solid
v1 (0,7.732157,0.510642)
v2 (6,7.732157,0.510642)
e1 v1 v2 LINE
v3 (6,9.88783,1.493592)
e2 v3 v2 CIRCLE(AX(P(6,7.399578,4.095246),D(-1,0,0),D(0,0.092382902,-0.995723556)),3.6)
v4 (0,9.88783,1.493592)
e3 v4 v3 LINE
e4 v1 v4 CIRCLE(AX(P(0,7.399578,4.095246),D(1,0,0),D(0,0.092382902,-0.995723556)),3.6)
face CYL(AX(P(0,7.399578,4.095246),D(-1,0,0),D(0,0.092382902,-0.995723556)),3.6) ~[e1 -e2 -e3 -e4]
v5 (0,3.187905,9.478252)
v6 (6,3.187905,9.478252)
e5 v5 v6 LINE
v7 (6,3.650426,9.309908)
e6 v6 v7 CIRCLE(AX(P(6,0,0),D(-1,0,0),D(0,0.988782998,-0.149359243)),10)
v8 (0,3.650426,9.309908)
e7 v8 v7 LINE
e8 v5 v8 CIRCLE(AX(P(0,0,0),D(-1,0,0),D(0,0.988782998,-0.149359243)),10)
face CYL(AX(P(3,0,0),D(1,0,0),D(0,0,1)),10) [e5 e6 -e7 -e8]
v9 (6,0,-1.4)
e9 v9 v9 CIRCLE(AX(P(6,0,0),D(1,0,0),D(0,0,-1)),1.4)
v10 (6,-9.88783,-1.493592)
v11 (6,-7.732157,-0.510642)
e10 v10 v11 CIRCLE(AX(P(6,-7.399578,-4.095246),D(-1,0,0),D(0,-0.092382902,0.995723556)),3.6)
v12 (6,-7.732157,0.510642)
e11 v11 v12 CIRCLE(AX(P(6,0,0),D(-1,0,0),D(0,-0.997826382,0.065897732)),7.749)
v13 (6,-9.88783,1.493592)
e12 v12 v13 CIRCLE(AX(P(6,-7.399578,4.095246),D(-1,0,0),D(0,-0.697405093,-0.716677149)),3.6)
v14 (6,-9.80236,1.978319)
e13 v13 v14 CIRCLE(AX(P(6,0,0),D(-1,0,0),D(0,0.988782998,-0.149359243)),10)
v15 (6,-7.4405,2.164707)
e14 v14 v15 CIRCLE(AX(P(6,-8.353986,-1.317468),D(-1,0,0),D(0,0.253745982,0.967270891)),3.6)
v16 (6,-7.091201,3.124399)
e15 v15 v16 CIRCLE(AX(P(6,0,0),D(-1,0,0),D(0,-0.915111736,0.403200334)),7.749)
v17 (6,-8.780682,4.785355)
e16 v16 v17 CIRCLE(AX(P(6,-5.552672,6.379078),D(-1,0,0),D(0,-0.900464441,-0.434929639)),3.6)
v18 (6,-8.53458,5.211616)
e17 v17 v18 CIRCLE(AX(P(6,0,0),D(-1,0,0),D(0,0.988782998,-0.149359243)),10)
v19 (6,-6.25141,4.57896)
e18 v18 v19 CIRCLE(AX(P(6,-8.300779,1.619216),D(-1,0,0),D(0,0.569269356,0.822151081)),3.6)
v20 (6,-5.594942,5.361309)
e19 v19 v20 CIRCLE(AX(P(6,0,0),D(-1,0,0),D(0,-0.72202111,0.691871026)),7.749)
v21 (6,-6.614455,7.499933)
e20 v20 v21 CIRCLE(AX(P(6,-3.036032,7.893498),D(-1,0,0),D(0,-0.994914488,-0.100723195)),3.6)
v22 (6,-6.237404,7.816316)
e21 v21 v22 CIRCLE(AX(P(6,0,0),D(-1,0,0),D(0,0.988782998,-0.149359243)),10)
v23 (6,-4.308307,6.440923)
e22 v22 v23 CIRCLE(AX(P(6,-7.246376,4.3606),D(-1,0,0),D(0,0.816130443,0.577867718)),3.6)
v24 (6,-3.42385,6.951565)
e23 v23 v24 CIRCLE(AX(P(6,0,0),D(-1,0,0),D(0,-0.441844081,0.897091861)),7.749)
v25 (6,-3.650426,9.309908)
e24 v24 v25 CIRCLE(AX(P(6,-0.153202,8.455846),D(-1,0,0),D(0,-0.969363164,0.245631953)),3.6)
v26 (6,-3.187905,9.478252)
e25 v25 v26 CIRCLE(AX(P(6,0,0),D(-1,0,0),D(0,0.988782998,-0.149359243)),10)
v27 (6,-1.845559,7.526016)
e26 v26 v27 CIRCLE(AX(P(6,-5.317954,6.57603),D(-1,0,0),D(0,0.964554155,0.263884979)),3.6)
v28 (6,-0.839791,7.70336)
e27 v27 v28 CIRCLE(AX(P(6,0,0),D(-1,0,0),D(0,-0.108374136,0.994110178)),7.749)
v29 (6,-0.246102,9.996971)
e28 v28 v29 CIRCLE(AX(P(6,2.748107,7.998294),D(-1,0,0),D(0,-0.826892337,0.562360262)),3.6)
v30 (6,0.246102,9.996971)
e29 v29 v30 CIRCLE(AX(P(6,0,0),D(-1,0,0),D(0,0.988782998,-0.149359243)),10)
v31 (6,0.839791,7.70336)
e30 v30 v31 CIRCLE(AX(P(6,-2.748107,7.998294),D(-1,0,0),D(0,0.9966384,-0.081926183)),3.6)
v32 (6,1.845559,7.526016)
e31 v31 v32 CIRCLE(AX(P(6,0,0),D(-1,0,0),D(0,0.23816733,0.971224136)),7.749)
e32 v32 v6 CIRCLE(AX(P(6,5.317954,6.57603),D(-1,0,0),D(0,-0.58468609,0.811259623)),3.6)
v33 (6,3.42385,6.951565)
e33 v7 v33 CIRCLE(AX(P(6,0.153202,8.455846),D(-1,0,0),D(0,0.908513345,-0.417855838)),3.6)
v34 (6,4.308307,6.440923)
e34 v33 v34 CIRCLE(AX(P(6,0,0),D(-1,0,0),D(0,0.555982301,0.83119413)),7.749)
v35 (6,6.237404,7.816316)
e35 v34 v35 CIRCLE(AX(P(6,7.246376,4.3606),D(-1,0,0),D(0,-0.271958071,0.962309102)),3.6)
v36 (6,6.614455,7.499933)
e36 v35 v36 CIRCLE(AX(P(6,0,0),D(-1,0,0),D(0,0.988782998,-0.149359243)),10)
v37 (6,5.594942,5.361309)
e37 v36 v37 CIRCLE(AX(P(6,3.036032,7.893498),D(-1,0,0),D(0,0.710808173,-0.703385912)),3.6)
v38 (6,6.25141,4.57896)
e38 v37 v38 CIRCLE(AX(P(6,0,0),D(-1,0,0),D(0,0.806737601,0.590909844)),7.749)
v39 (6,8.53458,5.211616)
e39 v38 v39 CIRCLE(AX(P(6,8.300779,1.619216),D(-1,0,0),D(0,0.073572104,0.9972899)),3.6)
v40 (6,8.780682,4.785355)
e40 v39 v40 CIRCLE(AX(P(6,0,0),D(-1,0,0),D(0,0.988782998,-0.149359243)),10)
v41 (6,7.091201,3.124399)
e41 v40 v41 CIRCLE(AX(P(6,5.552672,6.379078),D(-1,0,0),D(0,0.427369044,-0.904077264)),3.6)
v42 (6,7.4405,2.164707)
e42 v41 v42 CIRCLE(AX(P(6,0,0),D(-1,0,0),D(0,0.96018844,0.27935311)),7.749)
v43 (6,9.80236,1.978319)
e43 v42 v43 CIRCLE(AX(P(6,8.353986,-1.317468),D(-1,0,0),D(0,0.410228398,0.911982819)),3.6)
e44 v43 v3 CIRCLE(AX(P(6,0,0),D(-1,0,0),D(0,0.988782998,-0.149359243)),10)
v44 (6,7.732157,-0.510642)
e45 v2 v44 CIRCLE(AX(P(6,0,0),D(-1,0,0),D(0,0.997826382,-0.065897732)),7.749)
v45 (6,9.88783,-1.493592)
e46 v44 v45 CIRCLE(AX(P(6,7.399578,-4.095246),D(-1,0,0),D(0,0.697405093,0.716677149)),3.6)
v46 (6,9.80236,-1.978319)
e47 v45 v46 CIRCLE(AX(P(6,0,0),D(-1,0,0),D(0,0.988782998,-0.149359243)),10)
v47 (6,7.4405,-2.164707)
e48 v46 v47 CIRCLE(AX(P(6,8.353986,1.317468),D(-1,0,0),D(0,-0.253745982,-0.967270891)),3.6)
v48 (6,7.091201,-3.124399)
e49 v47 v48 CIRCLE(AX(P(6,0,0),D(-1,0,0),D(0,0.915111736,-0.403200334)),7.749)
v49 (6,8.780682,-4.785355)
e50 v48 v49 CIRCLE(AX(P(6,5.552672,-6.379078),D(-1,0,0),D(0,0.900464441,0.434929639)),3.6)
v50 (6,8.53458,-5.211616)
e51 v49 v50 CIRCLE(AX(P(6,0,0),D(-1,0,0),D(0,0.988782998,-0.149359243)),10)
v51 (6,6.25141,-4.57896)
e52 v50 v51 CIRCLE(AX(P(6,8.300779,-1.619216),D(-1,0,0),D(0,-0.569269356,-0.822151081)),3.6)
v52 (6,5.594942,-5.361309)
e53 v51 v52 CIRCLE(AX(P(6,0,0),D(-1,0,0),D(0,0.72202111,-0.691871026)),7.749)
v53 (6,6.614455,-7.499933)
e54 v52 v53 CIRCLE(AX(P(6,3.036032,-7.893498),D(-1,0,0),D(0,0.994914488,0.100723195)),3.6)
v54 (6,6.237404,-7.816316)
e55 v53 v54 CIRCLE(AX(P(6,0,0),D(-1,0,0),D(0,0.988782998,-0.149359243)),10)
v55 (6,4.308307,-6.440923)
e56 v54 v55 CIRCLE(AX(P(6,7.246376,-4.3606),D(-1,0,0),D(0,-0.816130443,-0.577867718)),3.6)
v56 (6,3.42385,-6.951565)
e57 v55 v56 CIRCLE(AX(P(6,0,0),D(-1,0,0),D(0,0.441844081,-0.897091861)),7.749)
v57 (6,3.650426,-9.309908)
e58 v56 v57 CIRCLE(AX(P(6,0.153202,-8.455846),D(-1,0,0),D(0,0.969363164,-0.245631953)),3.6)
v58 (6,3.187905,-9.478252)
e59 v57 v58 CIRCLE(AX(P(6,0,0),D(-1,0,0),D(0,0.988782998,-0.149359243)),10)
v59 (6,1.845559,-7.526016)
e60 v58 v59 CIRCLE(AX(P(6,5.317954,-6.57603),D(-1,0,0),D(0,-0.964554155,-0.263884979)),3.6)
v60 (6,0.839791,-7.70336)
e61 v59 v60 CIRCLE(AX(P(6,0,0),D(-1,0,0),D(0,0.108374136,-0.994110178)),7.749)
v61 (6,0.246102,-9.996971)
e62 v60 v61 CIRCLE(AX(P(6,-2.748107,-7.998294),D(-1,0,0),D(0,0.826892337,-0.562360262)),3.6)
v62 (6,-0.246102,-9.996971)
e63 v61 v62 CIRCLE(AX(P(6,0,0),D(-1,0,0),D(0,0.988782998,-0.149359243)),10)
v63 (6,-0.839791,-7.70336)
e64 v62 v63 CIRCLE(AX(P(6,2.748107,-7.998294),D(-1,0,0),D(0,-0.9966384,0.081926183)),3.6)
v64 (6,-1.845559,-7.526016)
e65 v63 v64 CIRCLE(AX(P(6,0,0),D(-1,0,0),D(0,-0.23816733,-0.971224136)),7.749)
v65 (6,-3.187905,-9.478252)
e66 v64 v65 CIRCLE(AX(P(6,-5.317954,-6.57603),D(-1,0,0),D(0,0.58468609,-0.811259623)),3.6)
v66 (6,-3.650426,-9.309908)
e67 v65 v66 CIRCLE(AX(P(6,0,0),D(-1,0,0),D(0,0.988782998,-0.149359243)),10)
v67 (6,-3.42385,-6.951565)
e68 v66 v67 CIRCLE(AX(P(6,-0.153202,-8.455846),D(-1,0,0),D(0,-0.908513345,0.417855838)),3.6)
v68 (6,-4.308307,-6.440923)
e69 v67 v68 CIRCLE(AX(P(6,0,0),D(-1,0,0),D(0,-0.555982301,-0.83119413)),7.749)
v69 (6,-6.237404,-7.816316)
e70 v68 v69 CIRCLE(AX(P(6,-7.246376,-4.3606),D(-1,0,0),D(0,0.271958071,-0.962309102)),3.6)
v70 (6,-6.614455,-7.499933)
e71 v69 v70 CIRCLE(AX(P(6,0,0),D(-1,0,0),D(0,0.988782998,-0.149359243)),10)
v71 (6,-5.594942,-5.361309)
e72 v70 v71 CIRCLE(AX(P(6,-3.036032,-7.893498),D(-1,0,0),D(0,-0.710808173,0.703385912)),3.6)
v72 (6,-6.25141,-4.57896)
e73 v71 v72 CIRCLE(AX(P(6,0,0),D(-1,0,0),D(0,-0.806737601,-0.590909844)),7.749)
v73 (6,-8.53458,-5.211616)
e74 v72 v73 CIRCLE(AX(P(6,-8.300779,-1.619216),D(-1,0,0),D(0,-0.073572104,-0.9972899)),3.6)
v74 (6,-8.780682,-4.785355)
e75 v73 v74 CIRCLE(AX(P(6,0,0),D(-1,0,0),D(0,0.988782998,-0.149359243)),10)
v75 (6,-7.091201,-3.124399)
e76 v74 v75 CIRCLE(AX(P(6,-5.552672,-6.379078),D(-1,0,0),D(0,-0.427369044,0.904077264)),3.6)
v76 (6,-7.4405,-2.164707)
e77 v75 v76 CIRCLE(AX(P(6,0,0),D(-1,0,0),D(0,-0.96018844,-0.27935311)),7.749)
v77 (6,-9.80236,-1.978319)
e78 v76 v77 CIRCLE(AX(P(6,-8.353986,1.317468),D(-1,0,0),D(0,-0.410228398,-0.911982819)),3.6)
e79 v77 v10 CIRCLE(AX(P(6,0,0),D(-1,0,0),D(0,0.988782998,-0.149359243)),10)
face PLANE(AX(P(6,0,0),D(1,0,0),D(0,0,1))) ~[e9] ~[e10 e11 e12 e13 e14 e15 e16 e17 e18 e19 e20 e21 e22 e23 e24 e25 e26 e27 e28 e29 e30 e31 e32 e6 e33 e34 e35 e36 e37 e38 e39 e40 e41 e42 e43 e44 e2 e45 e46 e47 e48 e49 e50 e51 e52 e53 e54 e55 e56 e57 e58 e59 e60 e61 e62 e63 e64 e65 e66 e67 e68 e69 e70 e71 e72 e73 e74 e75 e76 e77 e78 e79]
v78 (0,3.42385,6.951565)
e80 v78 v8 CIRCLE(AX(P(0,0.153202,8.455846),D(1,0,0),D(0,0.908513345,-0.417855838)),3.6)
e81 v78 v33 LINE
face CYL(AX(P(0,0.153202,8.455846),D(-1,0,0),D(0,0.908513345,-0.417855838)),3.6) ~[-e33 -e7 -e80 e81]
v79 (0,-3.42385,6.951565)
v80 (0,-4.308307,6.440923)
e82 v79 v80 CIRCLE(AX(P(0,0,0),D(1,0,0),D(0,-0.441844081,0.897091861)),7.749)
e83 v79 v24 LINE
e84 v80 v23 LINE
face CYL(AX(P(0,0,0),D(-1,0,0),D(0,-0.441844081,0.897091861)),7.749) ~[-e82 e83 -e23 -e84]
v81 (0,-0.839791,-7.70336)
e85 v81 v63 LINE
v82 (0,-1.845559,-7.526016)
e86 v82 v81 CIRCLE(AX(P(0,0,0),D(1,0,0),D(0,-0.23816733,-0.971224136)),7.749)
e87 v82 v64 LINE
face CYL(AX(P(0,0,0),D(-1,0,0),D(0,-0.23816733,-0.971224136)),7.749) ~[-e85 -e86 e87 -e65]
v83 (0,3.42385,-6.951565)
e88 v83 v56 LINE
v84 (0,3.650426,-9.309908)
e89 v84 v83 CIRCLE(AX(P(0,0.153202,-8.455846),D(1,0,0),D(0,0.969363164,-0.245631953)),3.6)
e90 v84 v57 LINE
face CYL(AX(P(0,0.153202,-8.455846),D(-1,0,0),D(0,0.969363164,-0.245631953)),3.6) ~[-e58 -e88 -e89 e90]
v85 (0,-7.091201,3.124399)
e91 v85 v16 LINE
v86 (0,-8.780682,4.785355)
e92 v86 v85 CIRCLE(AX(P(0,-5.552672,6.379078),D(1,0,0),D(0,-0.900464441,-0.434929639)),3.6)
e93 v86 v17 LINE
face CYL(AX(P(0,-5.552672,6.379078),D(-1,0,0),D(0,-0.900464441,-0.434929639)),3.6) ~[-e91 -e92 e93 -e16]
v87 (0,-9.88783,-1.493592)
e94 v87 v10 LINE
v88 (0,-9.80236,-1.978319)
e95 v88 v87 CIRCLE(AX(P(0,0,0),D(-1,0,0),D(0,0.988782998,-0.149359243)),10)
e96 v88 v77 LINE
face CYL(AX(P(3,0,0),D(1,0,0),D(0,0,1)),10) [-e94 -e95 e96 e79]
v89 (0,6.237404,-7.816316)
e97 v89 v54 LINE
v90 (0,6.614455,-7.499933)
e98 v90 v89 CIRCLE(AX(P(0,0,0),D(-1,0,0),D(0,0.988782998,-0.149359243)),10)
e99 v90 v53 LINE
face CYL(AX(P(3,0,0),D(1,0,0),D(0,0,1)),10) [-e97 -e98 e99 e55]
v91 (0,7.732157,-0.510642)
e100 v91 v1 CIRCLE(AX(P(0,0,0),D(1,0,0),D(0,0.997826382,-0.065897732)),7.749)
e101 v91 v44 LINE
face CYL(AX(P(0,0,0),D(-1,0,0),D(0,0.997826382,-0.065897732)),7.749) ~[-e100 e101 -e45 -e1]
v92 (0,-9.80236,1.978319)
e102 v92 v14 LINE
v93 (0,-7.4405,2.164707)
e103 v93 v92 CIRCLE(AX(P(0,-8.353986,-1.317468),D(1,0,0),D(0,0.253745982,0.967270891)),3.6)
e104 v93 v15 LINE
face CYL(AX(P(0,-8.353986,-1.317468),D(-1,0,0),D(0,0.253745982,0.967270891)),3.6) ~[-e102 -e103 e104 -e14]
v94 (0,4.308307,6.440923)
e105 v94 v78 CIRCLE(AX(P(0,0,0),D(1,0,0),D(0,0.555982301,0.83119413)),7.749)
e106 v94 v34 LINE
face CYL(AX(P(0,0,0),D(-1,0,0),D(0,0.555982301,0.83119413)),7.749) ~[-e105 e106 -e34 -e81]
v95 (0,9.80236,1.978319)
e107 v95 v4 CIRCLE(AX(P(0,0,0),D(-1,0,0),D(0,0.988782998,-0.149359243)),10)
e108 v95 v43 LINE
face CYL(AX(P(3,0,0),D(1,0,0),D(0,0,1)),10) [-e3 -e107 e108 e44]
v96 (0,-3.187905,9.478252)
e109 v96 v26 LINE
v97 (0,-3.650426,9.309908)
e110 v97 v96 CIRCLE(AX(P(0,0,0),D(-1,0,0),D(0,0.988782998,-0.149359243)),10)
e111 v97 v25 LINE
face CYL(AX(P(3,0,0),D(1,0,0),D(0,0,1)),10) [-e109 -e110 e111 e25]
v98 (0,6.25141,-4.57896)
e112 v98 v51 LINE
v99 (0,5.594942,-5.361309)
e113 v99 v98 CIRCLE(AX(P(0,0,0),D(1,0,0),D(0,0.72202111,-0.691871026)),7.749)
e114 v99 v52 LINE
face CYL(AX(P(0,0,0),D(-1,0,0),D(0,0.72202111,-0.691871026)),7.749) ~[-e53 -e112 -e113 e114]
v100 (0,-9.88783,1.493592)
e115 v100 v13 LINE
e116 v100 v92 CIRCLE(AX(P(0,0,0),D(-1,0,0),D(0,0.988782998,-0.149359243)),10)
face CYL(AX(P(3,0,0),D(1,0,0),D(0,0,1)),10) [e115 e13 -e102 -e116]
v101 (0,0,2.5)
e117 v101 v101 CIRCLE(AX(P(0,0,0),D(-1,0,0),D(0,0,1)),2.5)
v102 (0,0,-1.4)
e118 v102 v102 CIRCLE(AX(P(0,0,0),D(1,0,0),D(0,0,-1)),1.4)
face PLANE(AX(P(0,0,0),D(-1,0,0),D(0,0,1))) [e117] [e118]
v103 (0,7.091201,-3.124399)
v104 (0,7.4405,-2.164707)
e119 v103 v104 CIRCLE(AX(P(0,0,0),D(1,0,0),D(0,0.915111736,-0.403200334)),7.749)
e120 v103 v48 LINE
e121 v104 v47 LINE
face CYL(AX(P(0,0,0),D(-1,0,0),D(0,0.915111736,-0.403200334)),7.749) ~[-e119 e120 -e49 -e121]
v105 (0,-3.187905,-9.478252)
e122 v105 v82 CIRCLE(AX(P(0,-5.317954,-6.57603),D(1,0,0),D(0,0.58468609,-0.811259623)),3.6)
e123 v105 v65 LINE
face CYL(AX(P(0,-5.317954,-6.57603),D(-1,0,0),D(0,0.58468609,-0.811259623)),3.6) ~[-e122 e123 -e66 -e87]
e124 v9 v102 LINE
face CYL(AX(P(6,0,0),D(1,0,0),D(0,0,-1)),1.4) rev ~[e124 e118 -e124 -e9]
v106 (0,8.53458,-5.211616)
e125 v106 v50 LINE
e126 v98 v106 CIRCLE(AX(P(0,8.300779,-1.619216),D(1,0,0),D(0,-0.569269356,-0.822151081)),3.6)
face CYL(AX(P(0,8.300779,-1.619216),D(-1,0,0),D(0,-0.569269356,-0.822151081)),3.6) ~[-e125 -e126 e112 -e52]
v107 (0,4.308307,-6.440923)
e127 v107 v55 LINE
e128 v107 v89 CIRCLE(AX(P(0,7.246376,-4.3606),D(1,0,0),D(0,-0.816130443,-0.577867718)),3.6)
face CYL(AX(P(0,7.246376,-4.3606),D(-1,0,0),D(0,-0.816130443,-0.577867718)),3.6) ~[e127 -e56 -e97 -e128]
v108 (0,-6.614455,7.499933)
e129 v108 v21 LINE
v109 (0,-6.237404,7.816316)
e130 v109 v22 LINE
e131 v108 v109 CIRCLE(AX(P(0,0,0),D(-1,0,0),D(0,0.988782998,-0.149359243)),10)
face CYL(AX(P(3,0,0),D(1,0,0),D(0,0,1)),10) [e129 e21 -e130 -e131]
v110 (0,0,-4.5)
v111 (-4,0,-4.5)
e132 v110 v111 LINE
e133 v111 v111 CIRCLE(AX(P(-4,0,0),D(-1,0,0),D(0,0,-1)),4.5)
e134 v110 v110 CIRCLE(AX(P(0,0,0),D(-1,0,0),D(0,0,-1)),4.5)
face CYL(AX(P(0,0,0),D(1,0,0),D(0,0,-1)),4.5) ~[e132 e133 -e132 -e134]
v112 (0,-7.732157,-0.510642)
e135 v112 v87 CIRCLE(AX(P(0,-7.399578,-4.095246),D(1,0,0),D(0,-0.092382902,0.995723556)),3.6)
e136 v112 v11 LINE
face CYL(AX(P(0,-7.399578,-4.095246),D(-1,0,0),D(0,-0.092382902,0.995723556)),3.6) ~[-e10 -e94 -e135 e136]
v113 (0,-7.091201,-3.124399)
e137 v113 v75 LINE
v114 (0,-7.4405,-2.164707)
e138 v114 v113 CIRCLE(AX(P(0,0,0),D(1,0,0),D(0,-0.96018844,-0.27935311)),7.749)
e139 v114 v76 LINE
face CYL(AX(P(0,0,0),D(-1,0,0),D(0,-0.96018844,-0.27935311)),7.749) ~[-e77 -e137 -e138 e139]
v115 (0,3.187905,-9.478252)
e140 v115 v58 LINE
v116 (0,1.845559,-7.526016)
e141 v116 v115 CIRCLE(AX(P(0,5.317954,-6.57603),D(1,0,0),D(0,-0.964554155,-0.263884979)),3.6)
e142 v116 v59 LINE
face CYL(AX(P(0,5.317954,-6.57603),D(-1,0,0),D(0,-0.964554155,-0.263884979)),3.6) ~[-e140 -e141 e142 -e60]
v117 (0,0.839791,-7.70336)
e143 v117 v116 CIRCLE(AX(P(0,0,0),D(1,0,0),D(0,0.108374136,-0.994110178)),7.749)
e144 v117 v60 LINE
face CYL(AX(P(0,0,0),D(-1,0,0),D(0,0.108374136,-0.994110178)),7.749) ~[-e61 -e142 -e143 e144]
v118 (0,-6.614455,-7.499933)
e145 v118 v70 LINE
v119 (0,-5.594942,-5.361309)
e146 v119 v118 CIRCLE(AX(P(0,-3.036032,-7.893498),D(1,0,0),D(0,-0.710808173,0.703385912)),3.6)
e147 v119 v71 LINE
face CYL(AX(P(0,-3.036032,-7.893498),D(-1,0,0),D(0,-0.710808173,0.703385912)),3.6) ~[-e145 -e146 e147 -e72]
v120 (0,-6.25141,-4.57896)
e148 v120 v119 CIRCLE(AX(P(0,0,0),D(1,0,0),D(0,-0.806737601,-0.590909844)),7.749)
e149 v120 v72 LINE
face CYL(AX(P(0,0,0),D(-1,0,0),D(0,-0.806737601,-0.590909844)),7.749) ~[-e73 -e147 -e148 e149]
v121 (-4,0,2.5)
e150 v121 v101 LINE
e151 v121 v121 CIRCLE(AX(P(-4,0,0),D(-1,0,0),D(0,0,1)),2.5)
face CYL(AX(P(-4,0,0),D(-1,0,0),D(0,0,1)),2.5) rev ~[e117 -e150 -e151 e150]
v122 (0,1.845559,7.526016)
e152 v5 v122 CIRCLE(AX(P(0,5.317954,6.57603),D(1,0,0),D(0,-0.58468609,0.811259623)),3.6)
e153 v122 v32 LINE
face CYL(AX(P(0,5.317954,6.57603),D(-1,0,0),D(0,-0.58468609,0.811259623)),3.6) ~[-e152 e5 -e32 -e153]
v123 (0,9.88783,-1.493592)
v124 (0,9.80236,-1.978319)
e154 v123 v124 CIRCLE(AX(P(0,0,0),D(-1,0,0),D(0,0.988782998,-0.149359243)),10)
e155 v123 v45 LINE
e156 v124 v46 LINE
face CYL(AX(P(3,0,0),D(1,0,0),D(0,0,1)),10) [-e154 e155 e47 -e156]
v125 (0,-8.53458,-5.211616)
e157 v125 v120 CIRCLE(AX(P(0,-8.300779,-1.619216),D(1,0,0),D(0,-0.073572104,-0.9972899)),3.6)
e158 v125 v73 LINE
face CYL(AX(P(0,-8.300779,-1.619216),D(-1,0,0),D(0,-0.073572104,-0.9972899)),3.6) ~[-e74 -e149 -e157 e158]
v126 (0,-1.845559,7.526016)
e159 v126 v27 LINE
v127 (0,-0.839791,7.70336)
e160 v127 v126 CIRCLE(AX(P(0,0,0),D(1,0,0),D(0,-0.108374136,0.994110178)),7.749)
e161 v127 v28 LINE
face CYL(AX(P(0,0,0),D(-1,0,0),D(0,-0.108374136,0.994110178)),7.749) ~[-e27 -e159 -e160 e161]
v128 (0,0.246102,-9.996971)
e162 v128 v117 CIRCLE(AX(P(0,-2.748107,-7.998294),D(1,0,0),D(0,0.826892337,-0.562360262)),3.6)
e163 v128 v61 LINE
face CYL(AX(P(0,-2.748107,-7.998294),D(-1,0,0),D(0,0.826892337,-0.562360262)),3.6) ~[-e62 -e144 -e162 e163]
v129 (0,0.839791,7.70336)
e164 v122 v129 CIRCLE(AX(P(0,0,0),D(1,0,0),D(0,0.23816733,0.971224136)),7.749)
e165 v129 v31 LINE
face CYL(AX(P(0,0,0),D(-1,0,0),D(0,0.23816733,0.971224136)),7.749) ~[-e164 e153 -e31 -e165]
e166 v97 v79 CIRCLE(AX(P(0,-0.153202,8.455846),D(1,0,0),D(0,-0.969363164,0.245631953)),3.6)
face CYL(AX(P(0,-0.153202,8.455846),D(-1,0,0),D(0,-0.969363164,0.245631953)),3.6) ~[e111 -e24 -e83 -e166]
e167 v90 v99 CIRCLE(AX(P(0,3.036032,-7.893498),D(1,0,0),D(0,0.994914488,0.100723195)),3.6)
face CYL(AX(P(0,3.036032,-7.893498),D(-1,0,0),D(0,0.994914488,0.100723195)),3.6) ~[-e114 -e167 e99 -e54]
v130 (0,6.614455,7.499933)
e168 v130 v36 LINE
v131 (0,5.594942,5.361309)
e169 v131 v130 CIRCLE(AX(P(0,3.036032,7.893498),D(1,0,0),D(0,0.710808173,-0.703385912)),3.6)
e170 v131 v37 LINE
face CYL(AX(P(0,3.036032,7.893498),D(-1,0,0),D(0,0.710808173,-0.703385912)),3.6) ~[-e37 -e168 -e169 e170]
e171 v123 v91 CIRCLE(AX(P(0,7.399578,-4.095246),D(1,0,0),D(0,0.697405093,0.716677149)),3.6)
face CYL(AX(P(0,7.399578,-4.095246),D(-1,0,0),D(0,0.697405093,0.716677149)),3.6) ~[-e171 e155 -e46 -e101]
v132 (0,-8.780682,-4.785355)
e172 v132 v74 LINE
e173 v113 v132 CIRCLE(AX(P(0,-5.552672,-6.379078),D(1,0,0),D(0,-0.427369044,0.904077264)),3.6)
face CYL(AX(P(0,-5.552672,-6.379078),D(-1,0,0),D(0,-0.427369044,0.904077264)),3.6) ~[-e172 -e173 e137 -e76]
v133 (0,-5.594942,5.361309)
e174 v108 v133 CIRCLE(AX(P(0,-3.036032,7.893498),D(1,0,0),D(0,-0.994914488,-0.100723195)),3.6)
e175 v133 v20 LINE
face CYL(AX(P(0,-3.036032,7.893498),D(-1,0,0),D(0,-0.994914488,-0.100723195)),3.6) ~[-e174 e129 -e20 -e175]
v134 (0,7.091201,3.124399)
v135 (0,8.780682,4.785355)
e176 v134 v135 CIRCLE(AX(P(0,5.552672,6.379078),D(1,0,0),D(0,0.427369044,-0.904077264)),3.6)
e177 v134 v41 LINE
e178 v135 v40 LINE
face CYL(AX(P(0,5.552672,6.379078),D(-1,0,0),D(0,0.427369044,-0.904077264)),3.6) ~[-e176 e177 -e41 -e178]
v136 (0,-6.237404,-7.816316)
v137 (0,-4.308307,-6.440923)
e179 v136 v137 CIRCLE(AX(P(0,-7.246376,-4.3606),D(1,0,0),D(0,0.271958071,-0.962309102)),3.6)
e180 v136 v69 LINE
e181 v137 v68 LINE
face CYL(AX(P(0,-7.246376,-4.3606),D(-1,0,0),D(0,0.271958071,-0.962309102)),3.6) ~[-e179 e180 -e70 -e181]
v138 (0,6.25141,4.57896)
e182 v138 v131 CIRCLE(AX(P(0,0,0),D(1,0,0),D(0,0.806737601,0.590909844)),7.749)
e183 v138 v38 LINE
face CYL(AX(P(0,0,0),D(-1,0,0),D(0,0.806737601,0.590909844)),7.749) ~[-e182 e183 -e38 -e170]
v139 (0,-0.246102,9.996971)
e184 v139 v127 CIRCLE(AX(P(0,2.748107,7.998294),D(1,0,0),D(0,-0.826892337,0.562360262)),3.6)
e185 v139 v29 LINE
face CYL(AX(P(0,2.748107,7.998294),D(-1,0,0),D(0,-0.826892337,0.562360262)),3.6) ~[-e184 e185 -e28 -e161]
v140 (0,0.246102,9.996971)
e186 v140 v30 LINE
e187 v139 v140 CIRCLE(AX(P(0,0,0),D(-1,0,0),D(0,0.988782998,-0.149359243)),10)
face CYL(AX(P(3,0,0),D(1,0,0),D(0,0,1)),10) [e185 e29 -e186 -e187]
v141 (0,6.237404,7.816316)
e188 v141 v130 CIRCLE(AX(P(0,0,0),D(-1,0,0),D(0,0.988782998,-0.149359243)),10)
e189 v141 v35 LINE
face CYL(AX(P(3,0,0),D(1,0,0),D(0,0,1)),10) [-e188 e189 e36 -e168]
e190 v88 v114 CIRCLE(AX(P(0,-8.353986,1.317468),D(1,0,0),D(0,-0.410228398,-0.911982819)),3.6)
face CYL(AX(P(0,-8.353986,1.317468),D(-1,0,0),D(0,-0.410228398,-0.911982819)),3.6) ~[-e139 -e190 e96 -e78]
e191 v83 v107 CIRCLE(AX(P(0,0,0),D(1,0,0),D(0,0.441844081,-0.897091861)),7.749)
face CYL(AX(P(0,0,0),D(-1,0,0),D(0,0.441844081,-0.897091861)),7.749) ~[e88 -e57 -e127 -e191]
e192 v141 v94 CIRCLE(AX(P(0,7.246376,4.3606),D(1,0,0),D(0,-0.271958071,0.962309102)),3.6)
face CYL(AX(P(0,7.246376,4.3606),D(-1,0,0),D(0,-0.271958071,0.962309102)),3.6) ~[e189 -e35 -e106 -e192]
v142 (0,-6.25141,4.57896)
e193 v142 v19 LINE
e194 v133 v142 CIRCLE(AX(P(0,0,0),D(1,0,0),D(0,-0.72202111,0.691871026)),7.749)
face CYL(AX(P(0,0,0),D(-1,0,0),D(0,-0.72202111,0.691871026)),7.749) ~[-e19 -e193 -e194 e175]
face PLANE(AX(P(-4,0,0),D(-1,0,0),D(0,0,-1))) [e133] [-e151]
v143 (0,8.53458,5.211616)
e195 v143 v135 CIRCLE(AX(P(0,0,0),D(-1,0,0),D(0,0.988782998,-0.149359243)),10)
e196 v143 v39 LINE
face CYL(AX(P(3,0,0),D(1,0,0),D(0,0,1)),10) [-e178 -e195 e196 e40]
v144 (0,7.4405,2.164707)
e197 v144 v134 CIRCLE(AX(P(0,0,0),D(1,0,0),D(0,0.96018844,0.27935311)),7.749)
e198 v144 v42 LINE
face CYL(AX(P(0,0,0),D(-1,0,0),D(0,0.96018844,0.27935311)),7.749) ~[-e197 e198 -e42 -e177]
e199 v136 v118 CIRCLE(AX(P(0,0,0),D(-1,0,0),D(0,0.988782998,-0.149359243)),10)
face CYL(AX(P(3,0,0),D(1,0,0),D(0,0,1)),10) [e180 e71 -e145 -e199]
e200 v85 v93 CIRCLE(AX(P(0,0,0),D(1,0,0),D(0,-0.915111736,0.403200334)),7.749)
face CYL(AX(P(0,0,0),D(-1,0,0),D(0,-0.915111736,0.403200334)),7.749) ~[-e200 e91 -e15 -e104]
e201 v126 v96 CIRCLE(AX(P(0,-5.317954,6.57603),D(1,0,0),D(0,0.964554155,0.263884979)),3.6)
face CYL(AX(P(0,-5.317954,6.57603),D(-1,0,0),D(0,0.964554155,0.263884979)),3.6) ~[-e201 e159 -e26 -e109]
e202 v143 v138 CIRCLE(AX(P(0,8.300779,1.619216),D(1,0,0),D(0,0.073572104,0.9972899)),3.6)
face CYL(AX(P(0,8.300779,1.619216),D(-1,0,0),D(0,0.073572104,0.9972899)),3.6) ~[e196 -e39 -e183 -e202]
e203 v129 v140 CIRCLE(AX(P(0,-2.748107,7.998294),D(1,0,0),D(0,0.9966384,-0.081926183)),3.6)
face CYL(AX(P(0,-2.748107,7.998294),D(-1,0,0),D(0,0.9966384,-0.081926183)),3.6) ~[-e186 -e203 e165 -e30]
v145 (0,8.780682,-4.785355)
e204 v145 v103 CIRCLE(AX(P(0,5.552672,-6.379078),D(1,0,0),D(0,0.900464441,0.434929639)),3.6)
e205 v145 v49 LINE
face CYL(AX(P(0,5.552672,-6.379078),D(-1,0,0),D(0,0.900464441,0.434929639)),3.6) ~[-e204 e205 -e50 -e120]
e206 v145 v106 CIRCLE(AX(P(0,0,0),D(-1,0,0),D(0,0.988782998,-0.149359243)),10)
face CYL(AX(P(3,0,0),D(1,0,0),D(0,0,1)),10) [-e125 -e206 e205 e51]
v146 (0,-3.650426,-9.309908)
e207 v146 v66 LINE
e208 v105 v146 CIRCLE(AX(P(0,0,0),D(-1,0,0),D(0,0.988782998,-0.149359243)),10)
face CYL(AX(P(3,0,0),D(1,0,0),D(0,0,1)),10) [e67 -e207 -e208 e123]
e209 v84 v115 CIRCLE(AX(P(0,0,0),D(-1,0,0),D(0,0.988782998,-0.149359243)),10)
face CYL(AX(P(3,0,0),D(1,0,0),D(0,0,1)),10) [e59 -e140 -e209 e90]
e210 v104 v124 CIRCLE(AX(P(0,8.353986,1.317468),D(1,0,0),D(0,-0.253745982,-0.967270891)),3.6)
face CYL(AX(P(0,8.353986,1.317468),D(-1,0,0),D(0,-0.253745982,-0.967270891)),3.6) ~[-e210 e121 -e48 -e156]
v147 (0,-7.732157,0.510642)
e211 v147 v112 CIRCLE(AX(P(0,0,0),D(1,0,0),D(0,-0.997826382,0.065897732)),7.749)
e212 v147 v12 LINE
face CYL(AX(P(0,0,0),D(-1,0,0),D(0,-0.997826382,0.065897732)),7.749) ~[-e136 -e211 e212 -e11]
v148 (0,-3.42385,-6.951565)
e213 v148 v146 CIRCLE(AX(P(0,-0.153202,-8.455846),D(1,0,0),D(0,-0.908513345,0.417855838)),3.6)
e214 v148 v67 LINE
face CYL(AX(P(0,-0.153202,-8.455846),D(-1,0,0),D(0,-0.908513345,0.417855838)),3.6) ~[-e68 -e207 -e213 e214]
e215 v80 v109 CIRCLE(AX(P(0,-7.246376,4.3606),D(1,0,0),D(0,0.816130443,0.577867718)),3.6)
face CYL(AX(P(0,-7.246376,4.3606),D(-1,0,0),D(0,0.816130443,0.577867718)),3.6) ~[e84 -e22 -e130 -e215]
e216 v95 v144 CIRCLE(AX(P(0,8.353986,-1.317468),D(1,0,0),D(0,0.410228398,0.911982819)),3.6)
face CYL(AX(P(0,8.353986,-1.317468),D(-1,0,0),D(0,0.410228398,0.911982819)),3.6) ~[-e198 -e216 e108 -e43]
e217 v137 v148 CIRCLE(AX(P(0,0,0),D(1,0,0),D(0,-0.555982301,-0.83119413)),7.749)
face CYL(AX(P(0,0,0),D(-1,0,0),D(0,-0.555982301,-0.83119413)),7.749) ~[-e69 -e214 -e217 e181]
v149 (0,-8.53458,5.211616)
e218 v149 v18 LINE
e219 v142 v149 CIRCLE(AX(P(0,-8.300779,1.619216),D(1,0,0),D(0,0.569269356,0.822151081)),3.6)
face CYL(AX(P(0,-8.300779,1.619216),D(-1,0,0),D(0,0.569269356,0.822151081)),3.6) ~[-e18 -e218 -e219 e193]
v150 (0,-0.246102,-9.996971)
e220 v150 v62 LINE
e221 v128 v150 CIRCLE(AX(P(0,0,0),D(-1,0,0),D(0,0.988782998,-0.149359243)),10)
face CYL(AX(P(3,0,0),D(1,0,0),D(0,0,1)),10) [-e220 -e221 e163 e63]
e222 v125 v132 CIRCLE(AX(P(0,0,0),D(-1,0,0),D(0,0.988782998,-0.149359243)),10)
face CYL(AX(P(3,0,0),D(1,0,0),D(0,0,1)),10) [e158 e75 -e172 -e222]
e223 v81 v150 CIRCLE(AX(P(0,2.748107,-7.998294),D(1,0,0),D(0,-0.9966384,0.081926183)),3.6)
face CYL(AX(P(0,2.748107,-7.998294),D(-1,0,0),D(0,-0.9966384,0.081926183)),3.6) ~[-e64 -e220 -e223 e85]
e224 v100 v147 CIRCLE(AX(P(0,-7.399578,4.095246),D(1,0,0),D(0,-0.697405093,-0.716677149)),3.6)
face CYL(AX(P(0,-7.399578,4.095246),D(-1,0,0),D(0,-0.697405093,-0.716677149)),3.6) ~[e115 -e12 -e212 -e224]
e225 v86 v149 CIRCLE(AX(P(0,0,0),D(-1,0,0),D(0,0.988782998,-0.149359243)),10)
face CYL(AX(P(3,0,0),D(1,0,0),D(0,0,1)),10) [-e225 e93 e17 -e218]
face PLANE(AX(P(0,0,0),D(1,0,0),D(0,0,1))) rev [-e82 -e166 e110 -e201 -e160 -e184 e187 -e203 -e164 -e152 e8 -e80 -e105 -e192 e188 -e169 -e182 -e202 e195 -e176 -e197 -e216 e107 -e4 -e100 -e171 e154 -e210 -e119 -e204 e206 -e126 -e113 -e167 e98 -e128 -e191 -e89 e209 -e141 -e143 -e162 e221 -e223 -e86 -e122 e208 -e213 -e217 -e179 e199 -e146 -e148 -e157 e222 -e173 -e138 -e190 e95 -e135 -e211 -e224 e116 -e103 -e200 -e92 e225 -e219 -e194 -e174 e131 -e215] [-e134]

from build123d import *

# Parameters (mm, degrees)
BASPROSKE_W         = 6
BASPROSKE_H         = 10
TOOTHCUT_DEPTH      = 16.362291496
TEETHCUTS_COUNT     = 18
TEETHCUTS_ANGLE     = 340
BORSKE_R            = 0.5
BORE_DEPTH          = 50.0000508
SKETCH3_R           = 2.3
BOSS_EXTRUDE3_DEPTH = 6
SKETCH1_R           = 4.5
BOSS_EXTRUDE4_DEPTH = 4
SKETCH4_R           = 2.5
CUT_EXTRUDE1_DEPTH  = 4
SKETCH5_R           = 1.4
CUT_EXTRUDE2_DEPTH  = 6


with BuildPart() as part:
    # BasProSke → Base-Revolve (revolve)
    with BuildSketch(Plane(origin=(0, 0, 0), x_dir=(1, 0, 0), z_dir=(0, 1, 0)), mode=Mode.PRIVATE) as base_revolve_sk:
        with Locations((3, 5)):
            Rectangle(BASPROSKE_W, BASPROSKE_H)
    revolve(base_revolve_sk.sketch.rotate(Axis((-10, 0, 0), (1, 0, 0)), 180), axis=Axis((-10, 0, 0), (1, 0, 0)))

    # TooCutSke → ToothCut (cut, through all)
    with BuildSketch(Plane(origin=(0, 0, 0), x_dir=(0, 0, -1), z_dir=(1, 0, 0))):
        with BuildLine():
            ThreePointArc((0.510641536, 7.732156635), (0, 7.749), (-0.510641536, 7.732156635))
            ThreePointArc((-0.510641536, 7.732156635), (-0.82619259, 8.907320741), (-1.515208602, 9.910236529))
            ThreePointArc((-1.515208602, 9.910236529), (0, 10.0254), (1.515208602, 9.910236529))
            ThreePointArc((1.515208602, 9.910236529), (0.82619259, 8.907320741), (0.510641536, 7.732156635))
        make_face()
    toothcut = extrude(amount=TOOTHCUT_DEPTH, mode=Mode.SUBTRACT)

    # TeethCuts: ToothCut ×18 about axis
    teethcuts_axis = Axis((-10, 0, 0), (1, 0, 0))
    for i in range(1, TEETHCUTS_COUNT):
        add(toothcut.rotate(teethcuts_axis, i * TEETHCUTS_ANGLE / (TEETHCUTS_COUNT - 1)), mode=Mode.SUBTRACT)

    # BorSke → Bore (cut, symmetric)
    with BuildSketch(Plane(origin=(0, 0, 0), x_dir=(0, 0, -1), z_dir=(1, 0, 0))):
        with Locations(Location((0, 0, 0), (0, 0, 180))):
            Circle(BORSKE_R)
    extrude(amount=BORE_DEPTH, both=True, mode=Mode.SUBTRACT)

    # Sketch3 → Boss-Extrude3 (add)
    with BuildSketch(Plane(origin=(6, 0, 0), x_dir=(0, 0, -1), z_dir=(1, 0, 0))):
        Circle(SKETCH3_R)
    extrude(amount=-BOSS_EXTRUDE3_DEPTH)

    # Sketch1 → Boss-Extrude4 (add)
    with BuildSketch(Plane.ZY):
        with Locations(Location((0, 0, 0), (0, 0, 180))):
            Circle(SKETCH1_R)
    extrude(amount=BOSS_EXTRUDE4_DEPTH)

    # Sketch4 → Cut-Extrude1 (cut)
    with BuildSketch(Plane.ZY.offset(4)):
        Circle(SKETCH4_R)
    extrude(amount=-CUT_EXTRUDE1_DEPTH, mode=Mode.SUBTRACT)

    # Sketch5 → Cut-Extrude2 (cut)
    with BuildSketch(Plane(origin=(6, 0, 0), x_dir=(0, 0, -1), z_dir=(1, 0, 0))):
        Circle(SKETCH5_R)
    extrude(amount=-CUT_EXTRUDE2_DEPTH, mode=Mode.SUBTRACT)


solid = part.part
